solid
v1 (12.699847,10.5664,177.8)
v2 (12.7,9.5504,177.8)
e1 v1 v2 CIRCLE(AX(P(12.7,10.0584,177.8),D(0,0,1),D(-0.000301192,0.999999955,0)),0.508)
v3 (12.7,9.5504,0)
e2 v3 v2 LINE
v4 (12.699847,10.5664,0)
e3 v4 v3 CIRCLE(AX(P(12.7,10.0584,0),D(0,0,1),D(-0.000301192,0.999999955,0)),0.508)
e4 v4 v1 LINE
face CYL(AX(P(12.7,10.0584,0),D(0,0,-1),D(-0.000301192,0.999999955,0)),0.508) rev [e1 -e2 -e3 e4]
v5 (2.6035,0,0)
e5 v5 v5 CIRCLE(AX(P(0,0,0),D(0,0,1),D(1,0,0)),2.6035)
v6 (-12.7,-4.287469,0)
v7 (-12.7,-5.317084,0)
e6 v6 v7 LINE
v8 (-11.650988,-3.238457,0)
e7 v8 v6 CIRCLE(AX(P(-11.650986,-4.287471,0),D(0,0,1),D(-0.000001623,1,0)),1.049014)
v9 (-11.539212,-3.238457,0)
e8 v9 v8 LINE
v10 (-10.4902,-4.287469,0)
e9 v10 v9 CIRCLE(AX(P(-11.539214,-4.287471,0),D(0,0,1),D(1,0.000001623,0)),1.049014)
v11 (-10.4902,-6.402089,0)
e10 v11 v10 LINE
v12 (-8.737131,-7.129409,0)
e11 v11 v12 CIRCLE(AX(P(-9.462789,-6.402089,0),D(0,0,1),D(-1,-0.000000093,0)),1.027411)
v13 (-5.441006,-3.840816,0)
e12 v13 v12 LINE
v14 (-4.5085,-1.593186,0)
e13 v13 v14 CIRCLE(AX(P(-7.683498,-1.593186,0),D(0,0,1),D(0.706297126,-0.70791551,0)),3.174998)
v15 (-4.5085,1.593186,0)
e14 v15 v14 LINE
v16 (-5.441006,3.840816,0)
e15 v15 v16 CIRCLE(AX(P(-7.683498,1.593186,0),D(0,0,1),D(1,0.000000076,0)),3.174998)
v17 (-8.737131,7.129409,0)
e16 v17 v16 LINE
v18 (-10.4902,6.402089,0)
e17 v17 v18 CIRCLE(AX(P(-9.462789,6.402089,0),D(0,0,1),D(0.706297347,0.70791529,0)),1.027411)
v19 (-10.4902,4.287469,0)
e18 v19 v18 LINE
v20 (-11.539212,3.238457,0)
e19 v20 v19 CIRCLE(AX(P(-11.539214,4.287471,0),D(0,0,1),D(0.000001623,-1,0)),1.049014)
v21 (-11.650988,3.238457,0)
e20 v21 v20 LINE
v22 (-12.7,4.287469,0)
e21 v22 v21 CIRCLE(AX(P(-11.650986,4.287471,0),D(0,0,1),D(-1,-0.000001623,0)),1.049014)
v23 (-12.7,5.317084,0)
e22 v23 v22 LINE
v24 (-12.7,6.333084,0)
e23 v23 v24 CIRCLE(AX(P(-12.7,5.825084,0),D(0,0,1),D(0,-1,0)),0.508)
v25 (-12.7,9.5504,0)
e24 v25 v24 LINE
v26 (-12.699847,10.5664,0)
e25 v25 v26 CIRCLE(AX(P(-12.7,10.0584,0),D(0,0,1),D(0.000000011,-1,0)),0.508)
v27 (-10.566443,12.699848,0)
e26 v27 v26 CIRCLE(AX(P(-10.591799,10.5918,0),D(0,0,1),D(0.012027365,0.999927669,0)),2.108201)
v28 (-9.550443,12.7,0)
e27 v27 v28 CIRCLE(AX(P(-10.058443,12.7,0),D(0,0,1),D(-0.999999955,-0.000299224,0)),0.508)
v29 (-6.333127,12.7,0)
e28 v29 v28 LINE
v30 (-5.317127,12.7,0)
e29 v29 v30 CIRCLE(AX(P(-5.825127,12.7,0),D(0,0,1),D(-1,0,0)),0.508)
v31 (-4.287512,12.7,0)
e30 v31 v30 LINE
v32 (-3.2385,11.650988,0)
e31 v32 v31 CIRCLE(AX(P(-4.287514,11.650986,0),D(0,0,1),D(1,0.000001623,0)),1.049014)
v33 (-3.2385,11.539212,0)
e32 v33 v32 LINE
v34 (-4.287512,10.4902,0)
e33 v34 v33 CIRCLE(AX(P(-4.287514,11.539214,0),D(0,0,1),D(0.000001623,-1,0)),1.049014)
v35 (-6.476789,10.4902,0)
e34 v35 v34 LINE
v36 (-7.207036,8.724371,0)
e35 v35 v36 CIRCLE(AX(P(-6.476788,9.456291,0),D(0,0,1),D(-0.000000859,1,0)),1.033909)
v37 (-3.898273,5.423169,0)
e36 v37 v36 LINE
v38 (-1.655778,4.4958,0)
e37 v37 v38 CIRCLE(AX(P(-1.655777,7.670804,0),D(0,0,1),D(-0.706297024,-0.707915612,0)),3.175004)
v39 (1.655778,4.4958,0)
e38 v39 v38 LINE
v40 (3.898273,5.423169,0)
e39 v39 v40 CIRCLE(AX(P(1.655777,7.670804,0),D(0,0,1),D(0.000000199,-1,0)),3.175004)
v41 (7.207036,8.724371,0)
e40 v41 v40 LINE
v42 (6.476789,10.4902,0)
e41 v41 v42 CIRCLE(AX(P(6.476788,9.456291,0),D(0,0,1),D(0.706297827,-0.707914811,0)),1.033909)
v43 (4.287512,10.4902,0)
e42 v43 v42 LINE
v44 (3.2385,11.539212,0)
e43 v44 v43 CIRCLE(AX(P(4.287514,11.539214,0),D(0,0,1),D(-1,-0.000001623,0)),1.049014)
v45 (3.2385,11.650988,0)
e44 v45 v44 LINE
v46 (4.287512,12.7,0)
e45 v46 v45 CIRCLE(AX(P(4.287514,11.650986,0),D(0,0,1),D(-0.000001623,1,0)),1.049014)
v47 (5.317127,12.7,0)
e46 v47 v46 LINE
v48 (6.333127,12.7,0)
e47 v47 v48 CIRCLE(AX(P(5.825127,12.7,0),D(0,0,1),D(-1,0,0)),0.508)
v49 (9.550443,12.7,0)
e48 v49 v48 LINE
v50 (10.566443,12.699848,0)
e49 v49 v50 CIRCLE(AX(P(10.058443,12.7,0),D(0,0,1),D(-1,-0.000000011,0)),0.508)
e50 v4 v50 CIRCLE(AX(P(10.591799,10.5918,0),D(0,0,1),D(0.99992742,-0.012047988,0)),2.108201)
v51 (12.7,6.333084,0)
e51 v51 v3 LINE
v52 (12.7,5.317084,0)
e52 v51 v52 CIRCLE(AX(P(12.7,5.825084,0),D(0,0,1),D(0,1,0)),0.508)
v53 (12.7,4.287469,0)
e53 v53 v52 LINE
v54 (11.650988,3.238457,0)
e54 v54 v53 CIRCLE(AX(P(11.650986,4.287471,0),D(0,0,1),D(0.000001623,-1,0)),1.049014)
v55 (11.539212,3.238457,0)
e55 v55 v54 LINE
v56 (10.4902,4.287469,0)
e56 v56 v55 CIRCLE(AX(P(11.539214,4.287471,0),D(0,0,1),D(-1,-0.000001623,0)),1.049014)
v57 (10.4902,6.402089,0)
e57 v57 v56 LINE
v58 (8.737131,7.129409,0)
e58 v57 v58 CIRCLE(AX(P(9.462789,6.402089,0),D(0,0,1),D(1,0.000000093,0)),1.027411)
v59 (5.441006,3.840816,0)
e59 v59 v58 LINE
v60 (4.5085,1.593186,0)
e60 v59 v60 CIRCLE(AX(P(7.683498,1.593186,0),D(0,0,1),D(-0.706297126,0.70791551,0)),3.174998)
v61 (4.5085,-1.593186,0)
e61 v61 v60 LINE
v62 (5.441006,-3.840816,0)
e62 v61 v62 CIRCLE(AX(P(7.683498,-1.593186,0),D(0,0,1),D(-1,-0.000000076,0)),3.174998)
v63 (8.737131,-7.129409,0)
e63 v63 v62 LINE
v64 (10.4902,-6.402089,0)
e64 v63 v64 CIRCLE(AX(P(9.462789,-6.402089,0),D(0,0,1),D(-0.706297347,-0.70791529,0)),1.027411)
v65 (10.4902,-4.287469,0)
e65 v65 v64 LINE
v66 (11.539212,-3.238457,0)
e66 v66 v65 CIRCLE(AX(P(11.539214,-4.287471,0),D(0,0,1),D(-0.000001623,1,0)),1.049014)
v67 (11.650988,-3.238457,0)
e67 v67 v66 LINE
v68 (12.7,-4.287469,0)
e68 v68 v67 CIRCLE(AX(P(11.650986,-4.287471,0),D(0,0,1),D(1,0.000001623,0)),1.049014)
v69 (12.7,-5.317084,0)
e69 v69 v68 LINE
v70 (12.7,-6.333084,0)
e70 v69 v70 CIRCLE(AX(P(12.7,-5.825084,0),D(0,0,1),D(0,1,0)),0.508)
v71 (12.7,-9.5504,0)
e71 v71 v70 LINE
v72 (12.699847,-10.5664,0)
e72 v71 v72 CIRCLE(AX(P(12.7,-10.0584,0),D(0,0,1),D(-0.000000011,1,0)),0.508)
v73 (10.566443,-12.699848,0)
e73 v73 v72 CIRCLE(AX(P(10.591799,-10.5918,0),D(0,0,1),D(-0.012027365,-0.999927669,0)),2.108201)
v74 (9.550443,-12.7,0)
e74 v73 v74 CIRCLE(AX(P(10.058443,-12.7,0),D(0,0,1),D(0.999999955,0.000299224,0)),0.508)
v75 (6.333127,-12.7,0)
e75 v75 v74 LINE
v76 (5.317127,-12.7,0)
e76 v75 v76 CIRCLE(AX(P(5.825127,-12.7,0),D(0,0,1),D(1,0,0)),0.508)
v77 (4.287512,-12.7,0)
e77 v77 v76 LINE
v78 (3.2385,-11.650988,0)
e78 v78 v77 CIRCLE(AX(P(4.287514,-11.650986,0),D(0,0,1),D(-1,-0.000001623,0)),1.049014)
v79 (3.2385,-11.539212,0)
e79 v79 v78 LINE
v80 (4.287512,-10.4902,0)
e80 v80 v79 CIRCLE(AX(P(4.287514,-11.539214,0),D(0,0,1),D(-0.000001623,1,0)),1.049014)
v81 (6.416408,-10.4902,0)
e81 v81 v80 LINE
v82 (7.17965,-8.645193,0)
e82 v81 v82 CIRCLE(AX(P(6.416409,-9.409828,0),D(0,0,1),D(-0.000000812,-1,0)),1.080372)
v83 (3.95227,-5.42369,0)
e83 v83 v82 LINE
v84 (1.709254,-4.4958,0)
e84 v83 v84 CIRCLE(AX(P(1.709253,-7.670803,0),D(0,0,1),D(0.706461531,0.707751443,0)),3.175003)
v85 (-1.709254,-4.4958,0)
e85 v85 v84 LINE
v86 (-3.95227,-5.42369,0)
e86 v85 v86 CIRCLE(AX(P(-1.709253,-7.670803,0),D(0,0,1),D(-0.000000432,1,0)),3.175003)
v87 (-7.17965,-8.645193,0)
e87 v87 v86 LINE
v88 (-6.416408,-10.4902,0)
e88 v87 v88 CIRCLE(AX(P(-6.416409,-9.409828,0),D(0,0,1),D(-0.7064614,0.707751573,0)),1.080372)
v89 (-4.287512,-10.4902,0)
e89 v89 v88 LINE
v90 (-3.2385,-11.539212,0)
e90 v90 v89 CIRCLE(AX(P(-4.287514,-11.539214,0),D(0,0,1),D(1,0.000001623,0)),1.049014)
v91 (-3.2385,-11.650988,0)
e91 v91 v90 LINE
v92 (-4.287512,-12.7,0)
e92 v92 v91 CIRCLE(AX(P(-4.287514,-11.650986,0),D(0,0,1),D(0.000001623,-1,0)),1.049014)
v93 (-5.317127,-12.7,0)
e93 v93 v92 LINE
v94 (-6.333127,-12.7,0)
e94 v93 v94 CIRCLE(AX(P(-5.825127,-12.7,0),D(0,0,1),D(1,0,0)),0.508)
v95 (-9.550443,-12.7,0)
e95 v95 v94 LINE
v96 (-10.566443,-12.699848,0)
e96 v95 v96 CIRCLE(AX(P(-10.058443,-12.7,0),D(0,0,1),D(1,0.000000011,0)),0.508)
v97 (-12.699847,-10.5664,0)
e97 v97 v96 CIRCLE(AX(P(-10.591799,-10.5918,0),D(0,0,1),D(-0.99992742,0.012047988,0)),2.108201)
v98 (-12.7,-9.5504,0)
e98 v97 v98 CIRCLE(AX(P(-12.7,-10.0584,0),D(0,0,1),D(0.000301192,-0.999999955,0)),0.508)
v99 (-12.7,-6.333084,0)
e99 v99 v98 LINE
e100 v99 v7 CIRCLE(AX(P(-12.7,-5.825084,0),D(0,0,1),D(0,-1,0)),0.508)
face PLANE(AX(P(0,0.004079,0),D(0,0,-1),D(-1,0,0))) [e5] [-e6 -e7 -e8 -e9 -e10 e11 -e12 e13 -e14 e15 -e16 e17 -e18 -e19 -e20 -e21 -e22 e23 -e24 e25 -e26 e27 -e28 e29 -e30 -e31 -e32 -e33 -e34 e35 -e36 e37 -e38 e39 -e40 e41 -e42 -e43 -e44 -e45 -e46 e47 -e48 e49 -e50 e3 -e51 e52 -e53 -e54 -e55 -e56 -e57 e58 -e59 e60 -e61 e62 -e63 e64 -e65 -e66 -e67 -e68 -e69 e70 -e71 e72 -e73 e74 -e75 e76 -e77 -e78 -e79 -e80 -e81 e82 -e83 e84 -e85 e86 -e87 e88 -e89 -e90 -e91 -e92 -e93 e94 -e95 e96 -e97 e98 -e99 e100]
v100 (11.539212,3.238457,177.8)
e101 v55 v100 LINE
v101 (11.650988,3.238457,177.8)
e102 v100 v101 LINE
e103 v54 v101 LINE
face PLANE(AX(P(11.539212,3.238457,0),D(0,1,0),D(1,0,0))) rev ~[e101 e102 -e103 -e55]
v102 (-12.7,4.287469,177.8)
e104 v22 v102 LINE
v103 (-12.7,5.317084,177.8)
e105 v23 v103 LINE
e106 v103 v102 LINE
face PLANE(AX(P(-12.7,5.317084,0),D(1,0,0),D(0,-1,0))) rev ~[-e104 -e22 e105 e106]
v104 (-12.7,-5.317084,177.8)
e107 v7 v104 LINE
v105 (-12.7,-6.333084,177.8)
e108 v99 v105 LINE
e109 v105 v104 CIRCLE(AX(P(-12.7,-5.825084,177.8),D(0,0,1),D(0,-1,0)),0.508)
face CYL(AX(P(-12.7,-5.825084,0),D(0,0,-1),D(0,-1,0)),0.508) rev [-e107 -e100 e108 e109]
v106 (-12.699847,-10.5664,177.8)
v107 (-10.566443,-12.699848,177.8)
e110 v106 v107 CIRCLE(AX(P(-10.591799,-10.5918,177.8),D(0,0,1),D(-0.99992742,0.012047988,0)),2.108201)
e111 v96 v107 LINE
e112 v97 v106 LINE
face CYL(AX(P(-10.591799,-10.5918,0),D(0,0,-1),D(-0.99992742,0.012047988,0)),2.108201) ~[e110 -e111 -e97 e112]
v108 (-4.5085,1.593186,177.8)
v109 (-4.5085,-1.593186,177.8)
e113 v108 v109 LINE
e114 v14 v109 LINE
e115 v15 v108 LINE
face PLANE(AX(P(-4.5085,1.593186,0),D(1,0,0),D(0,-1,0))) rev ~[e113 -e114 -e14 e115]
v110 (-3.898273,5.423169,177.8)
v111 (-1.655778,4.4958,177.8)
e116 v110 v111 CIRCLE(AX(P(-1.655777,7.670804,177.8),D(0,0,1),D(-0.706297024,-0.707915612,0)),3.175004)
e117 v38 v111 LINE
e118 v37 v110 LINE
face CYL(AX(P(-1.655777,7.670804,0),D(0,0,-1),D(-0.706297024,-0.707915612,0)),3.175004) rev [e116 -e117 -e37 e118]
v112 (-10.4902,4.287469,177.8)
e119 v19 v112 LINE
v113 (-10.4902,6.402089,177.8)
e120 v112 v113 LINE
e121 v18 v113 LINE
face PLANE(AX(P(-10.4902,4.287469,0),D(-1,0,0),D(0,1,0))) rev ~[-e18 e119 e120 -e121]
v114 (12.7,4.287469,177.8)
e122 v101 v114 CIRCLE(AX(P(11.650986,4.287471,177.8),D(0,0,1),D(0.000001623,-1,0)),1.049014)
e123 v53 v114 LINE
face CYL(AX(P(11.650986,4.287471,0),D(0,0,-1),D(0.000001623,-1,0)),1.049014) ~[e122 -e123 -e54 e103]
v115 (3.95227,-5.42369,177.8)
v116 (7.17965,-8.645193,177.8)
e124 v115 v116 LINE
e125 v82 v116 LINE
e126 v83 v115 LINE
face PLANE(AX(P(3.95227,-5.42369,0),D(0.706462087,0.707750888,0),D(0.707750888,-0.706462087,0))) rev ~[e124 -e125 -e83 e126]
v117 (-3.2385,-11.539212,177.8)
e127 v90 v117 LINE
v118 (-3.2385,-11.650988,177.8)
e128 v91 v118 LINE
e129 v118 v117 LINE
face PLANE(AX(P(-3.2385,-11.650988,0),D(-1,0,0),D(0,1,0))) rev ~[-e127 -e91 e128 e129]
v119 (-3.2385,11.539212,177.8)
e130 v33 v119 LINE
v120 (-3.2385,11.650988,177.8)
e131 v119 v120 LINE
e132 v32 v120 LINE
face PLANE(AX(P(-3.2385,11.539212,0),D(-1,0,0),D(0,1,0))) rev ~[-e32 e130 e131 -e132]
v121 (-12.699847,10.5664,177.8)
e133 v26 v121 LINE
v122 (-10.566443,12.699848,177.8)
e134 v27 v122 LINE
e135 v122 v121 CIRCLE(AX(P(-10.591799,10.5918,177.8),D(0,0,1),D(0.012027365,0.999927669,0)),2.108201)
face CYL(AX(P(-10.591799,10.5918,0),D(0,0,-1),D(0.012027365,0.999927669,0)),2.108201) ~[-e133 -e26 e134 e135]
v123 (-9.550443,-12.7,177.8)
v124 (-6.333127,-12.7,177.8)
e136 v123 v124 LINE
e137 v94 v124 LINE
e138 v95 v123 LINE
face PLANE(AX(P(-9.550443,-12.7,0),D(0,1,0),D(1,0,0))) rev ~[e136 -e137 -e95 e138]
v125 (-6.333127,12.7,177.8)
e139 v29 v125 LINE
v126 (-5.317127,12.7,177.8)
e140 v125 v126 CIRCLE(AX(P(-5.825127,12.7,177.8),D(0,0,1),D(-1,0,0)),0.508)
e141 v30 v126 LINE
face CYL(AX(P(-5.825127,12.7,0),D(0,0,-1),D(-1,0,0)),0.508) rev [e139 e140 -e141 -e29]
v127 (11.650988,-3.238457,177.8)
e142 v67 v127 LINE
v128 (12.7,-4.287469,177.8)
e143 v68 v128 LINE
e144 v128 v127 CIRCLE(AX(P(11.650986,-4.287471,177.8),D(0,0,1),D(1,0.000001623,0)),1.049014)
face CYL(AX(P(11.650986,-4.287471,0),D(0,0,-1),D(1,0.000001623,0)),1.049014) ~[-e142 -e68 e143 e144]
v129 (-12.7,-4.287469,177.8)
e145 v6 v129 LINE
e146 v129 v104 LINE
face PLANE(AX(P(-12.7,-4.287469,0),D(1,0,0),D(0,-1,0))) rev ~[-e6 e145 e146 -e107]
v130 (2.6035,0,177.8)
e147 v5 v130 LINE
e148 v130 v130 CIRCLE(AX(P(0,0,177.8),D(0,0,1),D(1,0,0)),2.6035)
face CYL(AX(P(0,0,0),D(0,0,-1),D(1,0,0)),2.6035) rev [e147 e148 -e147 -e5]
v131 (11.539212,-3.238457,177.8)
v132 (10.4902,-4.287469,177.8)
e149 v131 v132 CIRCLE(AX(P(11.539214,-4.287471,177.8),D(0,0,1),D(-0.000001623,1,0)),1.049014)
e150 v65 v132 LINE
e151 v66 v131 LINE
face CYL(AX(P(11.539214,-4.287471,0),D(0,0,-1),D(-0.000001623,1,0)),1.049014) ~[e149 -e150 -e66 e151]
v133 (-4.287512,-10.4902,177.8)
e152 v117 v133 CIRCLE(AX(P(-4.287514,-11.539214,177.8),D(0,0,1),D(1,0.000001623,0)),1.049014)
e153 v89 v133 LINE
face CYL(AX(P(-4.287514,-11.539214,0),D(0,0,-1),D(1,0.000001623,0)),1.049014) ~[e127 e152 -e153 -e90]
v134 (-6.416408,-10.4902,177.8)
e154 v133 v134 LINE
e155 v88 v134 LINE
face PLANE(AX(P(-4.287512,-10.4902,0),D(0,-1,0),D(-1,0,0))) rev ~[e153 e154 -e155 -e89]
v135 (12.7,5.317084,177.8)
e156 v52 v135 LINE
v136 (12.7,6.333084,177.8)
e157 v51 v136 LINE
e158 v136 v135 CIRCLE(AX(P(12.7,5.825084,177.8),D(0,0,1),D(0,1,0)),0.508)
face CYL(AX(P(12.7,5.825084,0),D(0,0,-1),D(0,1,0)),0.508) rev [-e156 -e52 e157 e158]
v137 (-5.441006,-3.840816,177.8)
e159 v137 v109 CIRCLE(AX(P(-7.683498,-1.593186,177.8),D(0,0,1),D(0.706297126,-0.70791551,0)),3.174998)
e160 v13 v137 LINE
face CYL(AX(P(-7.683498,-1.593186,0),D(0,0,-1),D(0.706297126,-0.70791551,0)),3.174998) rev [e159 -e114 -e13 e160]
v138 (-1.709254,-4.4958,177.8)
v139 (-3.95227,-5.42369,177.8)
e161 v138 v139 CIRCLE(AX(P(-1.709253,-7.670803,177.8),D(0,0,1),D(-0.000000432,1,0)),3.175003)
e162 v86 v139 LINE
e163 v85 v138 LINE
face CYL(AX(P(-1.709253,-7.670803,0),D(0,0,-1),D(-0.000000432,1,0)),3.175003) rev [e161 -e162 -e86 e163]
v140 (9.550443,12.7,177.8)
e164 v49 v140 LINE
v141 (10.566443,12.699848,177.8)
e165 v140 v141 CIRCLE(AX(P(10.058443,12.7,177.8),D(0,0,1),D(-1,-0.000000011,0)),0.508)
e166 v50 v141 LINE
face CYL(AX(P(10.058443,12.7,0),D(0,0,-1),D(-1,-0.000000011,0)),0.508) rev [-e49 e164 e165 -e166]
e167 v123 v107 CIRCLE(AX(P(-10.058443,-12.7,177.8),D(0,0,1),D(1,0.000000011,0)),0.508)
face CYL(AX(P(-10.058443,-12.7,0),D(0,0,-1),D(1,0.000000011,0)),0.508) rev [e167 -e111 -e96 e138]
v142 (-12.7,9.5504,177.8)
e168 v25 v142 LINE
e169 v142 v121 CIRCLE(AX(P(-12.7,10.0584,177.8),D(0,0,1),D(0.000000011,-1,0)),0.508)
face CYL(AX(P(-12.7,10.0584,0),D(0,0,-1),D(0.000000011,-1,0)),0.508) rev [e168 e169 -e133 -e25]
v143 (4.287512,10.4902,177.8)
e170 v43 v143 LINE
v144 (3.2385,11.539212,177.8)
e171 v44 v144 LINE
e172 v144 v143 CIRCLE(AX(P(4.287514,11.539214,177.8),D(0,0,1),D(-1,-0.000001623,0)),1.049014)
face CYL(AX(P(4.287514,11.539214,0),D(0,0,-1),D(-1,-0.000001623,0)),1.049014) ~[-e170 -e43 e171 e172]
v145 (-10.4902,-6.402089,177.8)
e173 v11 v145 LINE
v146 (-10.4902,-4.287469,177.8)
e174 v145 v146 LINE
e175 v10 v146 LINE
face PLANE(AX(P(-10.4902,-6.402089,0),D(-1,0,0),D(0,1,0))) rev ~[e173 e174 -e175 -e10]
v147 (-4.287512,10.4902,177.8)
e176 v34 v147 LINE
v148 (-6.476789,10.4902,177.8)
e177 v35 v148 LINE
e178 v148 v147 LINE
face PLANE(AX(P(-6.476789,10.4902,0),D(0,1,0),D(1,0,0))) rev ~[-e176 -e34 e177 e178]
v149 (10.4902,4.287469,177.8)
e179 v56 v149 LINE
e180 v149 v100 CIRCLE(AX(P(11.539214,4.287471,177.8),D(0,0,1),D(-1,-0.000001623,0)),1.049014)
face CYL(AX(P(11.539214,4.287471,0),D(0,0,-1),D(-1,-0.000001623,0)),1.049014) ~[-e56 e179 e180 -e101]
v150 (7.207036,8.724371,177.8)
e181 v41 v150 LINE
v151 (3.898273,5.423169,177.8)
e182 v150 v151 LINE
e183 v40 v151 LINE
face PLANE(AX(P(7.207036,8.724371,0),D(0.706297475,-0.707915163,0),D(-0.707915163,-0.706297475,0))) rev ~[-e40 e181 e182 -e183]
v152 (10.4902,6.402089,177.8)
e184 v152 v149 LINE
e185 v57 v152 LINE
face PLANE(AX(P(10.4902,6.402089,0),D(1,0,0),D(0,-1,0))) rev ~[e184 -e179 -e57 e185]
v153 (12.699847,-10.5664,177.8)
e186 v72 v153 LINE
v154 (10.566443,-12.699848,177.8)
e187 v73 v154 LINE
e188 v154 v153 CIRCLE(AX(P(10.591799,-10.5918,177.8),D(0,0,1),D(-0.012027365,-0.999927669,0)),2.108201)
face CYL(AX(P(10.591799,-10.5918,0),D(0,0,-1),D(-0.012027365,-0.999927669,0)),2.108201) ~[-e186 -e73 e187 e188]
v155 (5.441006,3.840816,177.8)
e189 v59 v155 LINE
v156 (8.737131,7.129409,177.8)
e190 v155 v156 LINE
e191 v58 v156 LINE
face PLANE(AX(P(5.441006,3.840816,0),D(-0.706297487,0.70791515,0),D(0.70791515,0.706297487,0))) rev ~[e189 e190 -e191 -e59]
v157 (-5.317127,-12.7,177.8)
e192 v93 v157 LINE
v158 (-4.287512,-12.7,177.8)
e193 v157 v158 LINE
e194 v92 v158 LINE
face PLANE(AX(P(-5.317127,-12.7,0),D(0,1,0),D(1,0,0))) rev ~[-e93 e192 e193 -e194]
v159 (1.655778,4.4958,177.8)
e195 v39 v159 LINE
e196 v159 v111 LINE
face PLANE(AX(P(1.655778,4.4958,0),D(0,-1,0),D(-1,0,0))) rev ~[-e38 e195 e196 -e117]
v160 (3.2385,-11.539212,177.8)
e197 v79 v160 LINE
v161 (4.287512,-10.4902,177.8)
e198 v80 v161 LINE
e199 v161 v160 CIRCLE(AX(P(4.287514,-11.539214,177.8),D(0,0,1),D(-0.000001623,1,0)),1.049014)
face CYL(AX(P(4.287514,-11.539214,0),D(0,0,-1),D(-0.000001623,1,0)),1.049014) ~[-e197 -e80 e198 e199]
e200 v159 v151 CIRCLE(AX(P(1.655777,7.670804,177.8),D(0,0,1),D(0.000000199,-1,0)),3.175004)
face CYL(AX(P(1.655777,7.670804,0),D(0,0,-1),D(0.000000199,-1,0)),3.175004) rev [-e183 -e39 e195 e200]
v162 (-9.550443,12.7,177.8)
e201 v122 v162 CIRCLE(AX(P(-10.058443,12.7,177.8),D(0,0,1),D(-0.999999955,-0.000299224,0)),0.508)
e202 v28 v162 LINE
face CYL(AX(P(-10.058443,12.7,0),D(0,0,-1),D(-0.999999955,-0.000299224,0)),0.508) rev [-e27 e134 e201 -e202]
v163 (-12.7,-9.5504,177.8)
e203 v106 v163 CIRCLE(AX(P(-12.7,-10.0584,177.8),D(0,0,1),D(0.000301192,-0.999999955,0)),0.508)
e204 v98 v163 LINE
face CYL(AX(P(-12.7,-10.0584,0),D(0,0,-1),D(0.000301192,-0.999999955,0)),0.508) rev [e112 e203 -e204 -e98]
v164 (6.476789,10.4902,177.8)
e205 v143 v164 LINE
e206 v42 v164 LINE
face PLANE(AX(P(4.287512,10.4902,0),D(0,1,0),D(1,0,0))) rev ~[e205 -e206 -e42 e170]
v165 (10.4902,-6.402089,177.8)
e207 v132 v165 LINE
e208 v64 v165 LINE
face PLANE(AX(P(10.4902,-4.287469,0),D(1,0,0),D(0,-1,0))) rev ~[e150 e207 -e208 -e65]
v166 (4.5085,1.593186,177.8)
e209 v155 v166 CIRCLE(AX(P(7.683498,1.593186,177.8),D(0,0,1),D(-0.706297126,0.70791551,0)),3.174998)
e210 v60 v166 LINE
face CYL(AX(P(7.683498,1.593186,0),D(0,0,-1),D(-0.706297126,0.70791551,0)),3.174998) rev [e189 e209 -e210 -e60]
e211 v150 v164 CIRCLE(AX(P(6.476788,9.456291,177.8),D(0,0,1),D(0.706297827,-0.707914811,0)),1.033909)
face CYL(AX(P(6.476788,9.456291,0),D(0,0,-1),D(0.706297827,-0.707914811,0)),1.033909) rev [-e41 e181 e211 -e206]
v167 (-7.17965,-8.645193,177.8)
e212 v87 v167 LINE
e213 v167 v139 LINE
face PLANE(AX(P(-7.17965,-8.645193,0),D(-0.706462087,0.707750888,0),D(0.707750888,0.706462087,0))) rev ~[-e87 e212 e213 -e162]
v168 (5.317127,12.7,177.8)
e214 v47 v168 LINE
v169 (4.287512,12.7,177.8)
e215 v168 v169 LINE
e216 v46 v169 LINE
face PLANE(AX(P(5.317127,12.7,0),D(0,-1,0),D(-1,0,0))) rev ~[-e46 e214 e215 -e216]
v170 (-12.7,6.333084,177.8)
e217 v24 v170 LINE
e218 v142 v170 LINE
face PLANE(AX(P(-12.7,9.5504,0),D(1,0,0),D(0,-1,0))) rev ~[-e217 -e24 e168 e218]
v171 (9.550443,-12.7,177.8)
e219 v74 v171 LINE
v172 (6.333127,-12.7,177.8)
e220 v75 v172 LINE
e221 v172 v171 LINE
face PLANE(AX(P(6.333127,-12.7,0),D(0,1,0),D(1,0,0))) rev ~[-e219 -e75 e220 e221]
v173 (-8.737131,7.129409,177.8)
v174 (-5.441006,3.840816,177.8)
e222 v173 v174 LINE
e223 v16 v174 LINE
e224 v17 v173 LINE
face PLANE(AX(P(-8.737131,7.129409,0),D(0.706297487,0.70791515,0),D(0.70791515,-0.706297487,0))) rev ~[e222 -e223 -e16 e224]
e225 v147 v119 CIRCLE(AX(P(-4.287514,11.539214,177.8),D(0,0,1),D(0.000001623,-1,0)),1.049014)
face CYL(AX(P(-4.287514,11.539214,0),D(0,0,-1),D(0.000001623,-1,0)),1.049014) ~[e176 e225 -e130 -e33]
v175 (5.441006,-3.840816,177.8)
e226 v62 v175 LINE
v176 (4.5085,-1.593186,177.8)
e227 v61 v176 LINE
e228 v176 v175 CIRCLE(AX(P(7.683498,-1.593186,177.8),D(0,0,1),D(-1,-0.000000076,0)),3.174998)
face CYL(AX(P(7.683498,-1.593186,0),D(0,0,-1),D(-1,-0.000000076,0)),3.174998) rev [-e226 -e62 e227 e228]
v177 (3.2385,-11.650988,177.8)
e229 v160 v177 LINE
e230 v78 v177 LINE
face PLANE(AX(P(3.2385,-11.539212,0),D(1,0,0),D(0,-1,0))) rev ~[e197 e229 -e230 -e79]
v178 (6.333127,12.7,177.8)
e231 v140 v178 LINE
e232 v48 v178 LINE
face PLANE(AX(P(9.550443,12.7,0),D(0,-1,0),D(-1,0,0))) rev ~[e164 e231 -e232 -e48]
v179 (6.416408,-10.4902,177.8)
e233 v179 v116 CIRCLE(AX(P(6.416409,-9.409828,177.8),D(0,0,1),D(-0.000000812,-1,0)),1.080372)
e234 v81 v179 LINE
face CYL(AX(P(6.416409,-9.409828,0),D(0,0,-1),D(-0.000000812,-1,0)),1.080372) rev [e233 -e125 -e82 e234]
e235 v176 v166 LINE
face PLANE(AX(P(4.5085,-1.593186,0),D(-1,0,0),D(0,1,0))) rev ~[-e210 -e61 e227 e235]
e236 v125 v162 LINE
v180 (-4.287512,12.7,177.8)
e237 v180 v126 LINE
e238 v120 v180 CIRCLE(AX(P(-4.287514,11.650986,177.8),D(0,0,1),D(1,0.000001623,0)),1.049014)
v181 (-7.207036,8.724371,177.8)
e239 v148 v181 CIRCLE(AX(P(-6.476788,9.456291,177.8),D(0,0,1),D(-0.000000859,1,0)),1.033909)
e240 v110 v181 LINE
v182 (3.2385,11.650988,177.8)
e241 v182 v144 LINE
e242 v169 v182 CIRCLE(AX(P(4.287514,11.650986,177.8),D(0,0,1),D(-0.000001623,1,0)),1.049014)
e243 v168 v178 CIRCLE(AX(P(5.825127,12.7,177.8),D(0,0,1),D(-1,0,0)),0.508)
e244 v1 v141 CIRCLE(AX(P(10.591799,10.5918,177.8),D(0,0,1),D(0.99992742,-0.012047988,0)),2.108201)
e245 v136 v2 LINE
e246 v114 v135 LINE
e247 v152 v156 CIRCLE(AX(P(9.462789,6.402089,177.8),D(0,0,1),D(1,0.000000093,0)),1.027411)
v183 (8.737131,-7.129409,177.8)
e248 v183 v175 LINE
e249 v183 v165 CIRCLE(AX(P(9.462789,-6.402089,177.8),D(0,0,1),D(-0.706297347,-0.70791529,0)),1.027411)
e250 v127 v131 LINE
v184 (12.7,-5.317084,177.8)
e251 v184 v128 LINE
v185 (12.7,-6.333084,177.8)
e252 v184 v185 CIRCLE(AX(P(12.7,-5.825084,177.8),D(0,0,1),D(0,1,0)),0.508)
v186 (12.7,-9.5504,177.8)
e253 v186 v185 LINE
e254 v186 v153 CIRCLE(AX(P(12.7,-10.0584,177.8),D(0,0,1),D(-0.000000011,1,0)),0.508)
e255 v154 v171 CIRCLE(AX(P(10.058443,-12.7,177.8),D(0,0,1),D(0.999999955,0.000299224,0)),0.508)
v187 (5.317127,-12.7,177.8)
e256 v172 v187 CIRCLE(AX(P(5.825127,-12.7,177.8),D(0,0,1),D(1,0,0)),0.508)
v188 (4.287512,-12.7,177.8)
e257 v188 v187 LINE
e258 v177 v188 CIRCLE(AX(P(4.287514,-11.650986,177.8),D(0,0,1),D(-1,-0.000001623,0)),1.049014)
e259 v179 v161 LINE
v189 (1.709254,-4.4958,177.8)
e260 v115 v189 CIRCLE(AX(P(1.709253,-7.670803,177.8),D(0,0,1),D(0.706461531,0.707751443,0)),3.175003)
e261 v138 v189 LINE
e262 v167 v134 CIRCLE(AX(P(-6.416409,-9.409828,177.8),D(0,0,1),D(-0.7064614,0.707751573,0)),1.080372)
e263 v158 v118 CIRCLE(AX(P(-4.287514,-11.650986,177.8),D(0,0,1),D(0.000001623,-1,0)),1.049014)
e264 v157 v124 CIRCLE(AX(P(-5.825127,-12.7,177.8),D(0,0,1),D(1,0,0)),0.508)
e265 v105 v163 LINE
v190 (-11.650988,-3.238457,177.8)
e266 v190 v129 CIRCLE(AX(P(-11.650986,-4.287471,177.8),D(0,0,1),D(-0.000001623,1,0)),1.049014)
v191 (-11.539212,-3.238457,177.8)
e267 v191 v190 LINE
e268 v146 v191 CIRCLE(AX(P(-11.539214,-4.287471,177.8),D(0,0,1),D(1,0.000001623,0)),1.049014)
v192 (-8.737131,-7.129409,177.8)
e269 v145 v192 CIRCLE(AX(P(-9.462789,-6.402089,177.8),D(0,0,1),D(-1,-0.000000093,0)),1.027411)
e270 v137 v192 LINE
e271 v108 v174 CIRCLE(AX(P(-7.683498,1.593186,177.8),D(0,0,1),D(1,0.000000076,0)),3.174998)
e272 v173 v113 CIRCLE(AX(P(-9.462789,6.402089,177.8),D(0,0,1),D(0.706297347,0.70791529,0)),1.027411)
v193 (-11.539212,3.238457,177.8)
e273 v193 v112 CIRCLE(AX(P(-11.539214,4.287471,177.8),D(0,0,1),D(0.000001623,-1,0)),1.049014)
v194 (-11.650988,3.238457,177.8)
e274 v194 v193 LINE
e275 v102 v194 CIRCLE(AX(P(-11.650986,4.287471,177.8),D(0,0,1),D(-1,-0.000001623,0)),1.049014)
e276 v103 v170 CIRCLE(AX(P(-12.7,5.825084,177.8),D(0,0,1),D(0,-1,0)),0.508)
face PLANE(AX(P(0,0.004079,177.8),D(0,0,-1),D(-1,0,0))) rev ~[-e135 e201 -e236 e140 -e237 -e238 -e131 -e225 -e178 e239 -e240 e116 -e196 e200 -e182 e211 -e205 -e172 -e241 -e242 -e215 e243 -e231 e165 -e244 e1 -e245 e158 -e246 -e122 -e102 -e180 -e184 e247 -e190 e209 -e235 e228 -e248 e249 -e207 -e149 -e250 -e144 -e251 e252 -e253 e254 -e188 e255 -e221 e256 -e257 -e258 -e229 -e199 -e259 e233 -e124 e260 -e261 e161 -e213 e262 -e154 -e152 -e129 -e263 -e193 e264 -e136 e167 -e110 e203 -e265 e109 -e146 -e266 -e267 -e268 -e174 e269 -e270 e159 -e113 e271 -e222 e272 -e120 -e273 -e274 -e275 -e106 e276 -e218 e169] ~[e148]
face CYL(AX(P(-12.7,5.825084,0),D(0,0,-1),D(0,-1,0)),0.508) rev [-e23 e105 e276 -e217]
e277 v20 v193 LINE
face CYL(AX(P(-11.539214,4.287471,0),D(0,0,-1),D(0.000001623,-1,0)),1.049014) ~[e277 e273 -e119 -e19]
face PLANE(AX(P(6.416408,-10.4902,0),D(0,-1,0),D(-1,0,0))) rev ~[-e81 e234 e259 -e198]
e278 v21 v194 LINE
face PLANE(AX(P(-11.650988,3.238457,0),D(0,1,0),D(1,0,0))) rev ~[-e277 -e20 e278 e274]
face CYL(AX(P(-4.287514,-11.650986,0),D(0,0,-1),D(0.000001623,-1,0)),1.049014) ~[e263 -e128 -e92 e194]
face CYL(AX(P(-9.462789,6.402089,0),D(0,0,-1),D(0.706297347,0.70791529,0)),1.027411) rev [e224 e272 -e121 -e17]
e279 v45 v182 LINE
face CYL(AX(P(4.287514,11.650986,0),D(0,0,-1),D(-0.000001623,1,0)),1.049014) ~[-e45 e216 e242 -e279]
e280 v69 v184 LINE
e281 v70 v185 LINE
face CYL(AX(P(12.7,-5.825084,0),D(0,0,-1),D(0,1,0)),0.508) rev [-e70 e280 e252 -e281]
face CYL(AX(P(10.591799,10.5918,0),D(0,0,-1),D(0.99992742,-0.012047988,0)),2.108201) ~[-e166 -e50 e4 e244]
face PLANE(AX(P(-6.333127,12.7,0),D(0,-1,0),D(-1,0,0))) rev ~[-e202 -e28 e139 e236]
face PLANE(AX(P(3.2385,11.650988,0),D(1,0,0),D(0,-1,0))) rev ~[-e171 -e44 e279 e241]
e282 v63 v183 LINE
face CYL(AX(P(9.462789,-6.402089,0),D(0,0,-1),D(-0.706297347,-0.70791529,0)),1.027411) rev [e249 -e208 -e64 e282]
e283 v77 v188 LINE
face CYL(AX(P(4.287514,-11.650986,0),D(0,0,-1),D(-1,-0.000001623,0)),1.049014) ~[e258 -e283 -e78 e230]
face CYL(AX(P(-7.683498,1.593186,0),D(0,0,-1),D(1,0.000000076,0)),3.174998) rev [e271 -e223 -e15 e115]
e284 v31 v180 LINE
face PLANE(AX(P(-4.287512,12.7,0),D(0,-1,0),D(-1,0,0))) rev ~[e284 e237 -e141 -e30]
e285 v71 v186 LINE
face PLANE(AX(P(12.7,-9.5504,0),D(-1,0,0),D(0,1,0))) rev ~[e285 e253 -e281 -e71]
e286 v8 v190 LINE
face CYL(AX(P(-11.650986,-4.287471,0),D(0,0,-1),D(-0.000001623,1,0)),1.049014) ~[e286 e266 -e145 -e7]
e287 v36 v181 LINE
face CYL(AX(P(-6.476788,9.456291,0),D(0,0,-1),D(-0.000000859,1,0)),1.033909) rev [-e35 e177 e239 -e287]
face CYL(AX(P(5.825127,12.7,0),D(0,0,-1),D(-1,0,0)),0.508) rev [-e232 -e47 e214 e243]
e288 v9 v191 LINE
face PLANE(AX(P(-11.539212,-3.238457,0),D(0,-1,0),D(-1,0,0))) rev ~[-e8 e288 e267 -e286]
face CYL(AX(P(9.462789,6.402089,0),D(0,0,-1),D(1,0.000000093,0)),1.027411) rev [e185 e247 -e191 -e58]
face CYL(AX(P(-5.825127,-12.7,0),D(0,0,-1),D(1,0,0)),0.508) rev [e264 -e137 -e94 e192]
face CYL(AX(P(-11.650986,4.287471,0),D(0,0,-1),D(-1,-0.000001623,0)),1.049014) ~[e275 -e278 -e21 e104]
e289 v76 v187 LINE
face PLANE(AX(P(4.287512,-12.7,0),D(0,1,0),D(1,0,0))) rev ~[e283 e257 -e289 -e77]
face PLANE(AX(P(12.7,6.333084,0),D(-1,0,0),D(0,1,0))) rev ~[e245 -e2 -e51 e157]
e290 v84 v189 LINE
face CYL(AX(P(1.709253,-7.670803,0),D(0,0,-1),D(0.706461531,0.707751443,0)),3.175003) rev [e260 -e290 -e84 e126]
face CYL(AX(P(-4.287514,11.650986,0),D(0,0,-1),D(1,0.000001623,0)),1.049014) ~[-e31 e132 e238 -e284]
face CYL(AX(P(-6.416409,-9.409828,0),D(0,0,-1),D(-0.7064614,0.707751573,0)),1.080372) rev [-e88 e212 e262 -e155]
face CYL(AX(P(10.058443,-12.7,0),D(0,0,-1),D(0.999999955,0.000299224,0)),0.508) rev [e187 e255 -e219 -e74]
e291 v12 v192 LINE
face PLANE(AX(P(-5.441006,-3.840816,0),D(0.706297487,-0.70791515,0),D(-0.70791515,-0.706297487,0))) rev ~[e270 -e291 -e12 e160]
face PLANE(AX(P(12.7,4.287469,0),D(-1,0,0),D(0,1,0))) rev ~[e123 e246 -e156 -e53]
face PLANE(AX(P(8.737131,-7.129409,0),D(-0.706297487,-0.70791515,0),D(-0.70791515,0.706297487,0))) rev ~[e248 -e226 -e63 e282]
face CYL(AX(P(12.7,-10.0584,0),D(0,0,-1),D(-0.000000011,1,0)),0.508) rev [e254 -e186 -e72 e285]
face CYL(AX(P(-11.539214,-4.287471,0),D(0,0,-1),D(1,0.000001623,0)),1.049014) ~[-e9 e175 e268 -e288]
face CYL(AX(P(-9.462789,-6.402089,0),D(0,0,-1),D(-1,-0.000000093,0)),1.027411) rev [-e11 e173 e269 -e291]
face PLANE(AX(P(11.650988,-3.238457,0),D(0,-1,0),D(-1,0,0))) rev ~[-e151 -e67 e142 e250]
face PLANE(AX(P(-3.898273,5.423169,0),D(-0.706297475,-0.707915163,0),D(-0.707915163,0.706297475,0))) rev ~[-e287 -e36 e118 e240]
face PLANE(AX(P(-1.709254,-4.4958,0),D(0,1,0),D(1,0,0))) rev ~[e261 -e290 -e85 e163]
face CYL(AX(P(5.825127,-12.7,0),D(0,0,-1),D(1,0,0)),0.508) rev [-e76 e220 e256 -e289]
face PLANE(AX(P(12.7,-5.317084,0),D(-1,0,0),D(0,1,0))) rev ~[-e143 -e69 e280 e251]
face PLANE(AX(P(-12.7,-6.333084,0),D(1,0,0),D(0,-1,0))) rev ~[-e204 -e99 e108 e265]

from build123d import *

# Parameters (mm, degrees)
SKETCH097_R   = 2.6035
EXTRUDE_DEPTH = 177.8


with BuildPart() as part:
    # Sketch097 → Extrude (new body)
    with BuildSketch(Plane.XY):
        with BuildLine():
            ThreePointArc((12.7, 6.333084), (12.192, 5.825084), (12.7, 5.317084))
            Line((12.7, 4.287469), (12.7, 5.317084))
            ThreePointArc((11.650988, 3.238457), (12.392751, 3.545706), (12.7, 4.287469))
            Line((11.539212, 3.238457), (11.650988, 3.238457))
            ThreePointArc((10.4902, 4.287469), (10.797449, 3.545706), (11.539212, 3.238457))
            Line((10.4902, 6.402089), (10.4902, 4.287469))
            ThreePointArc((10.4902, 6.402089), (9.856505, 7.351068), (8.737131, 7.129409))
            Line((5.441006, 3.840816), (8.737131, 7.129409))
            ThreePointArc((5.441006, 3.840816), (4.750878, 2.809883), (4.5085, 1.593186))
            Line((4.5085, -1.593186), (4.5085, 1.593186))
            ThreePointArc((4.5085, -1.593186), (4.750878, -2.809883), (5.441006, -3.840816))
            Line((8.737131, -7.129409), (5.441006, -3.840816))
            ThreePointArc((8.737131, -7.129409), (9.856505, -7.351068), (10.4902, -6.402089))
            Line((10.4902, -4.287469), (10.4902, -6.402089))
            ThreePointArc((11.539212, -3.238457), (10.797449, -3.545706), (10.4902, -4.287469))
            Line((11.650988, -3.238457), (11.539212, -3.238457))
            ThreePointArc((12.7, -4.287469), (12.392751, -3.545706), (11.650988, -3.238457))
            Line((12.7, -5.317084), (12.7, -4.287469))
            ThreePointArc((12.7, -5.317084), (12.192, -5.825084), (12.7, -6.333084))
            Line((12.7, -9.5504), (12.7, -6.333084))
            ThreePointArc((12.7, -9.5504), (12.192, -10.058323), (12.699847, -10.5664))
            ThreePointArc((10.566443, -12.699848), (12.082538, -12.082507), (12.699847, -10.5664))
            ThreePointArc((10.566443, -12.699848), (10.058367, -12.192), (9.550443, -12.7))
            Line((6.333127, -12.7), (9.550443, -12.7))
            ThreePointArc((6.333127, -12.7), (5.825127, -12.192), (5.317127, -12.7))
            Line((4.287512, -12.7), (5.317127, -12.7))
            ThreePointArc((3.2385, -11.650988), (3.545749, -12.392751), (4.287512, -12.7))
            Line((3.2385, -11.539212), (3.2385, -11.650988))
            ThreePointArc((4.287512, -10.4902), (3.545749, -10.797449), (3.2385, -11.539212))
            Line((6.416408, -10.4902), (4.287512, -10.4902))
            ThreePointArc((6.416408, -10.4902), (7.414731, -9.822813), (7.17965, -8.645193))
            Line((3.95227, -5.42369), (7.17965, -8.645193))
            ThreePointArc((3.95227, -5.42369), (2.922936, -4.736929), (1.709254, -4.4958))
            Line((-1.709254, -4.4958), (1.709254, -4.4958))
            ThreePointArc((-1.709254, -4.4958), (-2.922936, -4.736929), (-3.95227, -5.42369))
            Line((-7.17965, -8.645193), (-3.95227, -5.42369))
            ThreePointArc((-7.17965, -8.645193), (-7.414731, -9.822813), (-6.416408, -10.4902))
            Line((-4.287512, -10.4902), (-6.416408, -10.4902))
            ThreePointArc((-3.2385, -11.539212), (-3.545749, -10.797449), (-4.287512, -10.4902))
            Line((-3.2385, -11.650988), (-3.2385, -11.539212))
            ThreePointArc((-4.287512, -12.7), (-3.545749, -12.392751), (-3.2385, -11.650988))
            Line((-5.317127, -12.7), (-4.287512, -12.7))
            ThreePointArc((-5.317127, -12.7), (-5.825127, -12.192), (-6.333127, -12.7))
            Line((-9.550443, -12.7), (-6.333127, -12.7))
            ThreePointArc((-9.550443, -12.7), (-10.058367, -12.192), (-10.566443, -12.699848))
            ThreePointArc((-12.699847, -10.5664), (-12.082538, -12.082507), (-10.566443, -12.699848))
            ThreePointArc((-12.699847, -10.5664), (-12.192, -10.058323), (-12.7, -9.5504))
            Line((-12.7, -6.333084), (-12.7, -9.5504))
            ThreePointArc((-12.7, -6.333084), (-12.192, -5.825084), (-12.7, -5.317084))
            Line((-12.7, -4.287469), (-12.7, -5.317084))
            ThreePointArc((-11.650988, -3.238457), (-12.392751, -3.545706), (-12.7, -4.287469))
            Line((-11.539212, -3.238457), (-11.650988, -3.238457))
            ThreePointArc((-10.4902, -4.287469), (-10.797449, -3.545706), (-11.539212, -3.238457))
            Line((-10.4902, -6.402089), (-10.4902, -4.287469))
            ThreePointArc((-10.4902, -6.402089), (-9.856505, -7.351068), (-8.737131, -7.129409))
            Line((-5.441006, -3.840816), (-8.737131, -7.129409))
            ThreePointArc((-5.441006, -3.840816), (-4.750878, -2.809883), (-4.5085, -1.593186))
            Line((-4.5085, 1.593186), (-4.5085, -1.593186))
            ThreePointArc((-4.5085, 1.593186), (-4.750878, 2.809883), (-5.441006, 3.840816))
            Line((-8.737131, 7.129409), (-5.441006, 3.840816))
            ThreePointArc((-8.737131, 7.129409), (-9.856505, 7.351068), (-10.4902, 6.402089))
            Line((-10.4902, 4.287469), (-10.4902, 6.402089))
            ThreePointArc((-11.539212, 3.238457), (-10.797449, 3.545706), (-10.4902, 4.287469))
            Line((-11.650988, 3.238457), (-11.539212, 3.238457))
            ThreePointArc((-12.7, 4.287469), (-12.392751, 3.545706), (-11.650988, 3.238457))
            Line((-12.7, 5.317084), (-12.7, 4.287469))
            ThreePointArc((-12.7, 5.317084), (-12.192, 5.825084), (-12.7, 6.333084))
            Line((-12.7, 9.5504), (-12.7, 6.333084))
            ThreePointArc((-12.7, 9.5504), (-12.192, 10.058323), (-12.699847, 10.5664))
            ThreePointArc((-10.566443, 12.699848), (-12.082538, 12.082507), (-12.699847, 10.5664))
            ThreePointArc((-10.566443, 12.699848), (-10.058367, 12.192), (-9.550443, 12.7))
            Line((-6.333127, 12.7), (-9.550443, 12.7))
            ThreePointArc((-6.333127, 12.7), (-5.825127, 12.192), (-5.317127, 12.7))
            Line((-4.287512, 12.7), (-5.317127, 12.7))
            ThreePointArc((-3.2385, 11.650988), (-3.545749, 12.392751), (-4.287512, 12.7))
            Line((-3.2385, 11.539212), (-3.2385, 11.650988))
            ThreePointArc((-4.287512, 10.4902), (-3.545749, 10.797449), (-3.2385, 11.539212))
            Line((-6.476789, 10.4902), (-4.287512, 10.4902))
            ThreePointArc((-6.476789, 10.4902), (-7.432222, 9.851404), (-7.207036, 8.724371))
            Line((-3.898273, 5.423169), (-7.207036, 8.724371))
            ThreePointArc((-3.898273, 5.423169), (-2.86912, 4.736788), (-1.655778, 4.4958))
            Line((1.655778, 4.4958), (-1.655778, 4.4958))
            ThreePointArc((1.655778, 4.4958), (2.86912, 4.736788), (3.898273, 5.423169))
            Line((7.207036, 8.724371), (3.898273, 5.423169))
            ThreePointArc((7.207036, 8.724371), (7.432222, 9.851404), (6.476789, 10.4902))
            Line((4.287512, 10.4902), (6.476789, 10.4902))
            ThreePointArc((3.2385, 11.539212), (3.545749, 10.797449), (4.287512, 10.4902))
            Line((3.2385, 11.650988), (3.2385, 11.539212))
            ThreePointArc((4.287512, 12.7), (3.545749, 12.392751), (3.2385, 11.650988))
            Line((5.317127, 12.7), (4.287512, 12.7))
            ThreePointArc((5.317127, 12.7), (5.825127, 12.192), (6.333127, 12.7))
            Line((9.550443, 12.7), (6.333127, 12.7))
            ThreePointArc((9.550443, 12.7), (10.058367, 12.192), (10.566443, 12.699848))
            ThreePointArc((12.699847, 10.5664), (12.082538, 12.082507), (10.566443, 12.699848))
            ThreePointArc((12.699847, 10.5664), (12.192, 10.058323), (12.7, 9.5504))
            Line((12.7, 6.333084), (12.7, 9.5504))
        make_face()
        Circle(SKETCH097_R, mode=Mode.SUBTRACT)
    extrude(amount=EXTRUDE_DEPTH)


solid = part.part
